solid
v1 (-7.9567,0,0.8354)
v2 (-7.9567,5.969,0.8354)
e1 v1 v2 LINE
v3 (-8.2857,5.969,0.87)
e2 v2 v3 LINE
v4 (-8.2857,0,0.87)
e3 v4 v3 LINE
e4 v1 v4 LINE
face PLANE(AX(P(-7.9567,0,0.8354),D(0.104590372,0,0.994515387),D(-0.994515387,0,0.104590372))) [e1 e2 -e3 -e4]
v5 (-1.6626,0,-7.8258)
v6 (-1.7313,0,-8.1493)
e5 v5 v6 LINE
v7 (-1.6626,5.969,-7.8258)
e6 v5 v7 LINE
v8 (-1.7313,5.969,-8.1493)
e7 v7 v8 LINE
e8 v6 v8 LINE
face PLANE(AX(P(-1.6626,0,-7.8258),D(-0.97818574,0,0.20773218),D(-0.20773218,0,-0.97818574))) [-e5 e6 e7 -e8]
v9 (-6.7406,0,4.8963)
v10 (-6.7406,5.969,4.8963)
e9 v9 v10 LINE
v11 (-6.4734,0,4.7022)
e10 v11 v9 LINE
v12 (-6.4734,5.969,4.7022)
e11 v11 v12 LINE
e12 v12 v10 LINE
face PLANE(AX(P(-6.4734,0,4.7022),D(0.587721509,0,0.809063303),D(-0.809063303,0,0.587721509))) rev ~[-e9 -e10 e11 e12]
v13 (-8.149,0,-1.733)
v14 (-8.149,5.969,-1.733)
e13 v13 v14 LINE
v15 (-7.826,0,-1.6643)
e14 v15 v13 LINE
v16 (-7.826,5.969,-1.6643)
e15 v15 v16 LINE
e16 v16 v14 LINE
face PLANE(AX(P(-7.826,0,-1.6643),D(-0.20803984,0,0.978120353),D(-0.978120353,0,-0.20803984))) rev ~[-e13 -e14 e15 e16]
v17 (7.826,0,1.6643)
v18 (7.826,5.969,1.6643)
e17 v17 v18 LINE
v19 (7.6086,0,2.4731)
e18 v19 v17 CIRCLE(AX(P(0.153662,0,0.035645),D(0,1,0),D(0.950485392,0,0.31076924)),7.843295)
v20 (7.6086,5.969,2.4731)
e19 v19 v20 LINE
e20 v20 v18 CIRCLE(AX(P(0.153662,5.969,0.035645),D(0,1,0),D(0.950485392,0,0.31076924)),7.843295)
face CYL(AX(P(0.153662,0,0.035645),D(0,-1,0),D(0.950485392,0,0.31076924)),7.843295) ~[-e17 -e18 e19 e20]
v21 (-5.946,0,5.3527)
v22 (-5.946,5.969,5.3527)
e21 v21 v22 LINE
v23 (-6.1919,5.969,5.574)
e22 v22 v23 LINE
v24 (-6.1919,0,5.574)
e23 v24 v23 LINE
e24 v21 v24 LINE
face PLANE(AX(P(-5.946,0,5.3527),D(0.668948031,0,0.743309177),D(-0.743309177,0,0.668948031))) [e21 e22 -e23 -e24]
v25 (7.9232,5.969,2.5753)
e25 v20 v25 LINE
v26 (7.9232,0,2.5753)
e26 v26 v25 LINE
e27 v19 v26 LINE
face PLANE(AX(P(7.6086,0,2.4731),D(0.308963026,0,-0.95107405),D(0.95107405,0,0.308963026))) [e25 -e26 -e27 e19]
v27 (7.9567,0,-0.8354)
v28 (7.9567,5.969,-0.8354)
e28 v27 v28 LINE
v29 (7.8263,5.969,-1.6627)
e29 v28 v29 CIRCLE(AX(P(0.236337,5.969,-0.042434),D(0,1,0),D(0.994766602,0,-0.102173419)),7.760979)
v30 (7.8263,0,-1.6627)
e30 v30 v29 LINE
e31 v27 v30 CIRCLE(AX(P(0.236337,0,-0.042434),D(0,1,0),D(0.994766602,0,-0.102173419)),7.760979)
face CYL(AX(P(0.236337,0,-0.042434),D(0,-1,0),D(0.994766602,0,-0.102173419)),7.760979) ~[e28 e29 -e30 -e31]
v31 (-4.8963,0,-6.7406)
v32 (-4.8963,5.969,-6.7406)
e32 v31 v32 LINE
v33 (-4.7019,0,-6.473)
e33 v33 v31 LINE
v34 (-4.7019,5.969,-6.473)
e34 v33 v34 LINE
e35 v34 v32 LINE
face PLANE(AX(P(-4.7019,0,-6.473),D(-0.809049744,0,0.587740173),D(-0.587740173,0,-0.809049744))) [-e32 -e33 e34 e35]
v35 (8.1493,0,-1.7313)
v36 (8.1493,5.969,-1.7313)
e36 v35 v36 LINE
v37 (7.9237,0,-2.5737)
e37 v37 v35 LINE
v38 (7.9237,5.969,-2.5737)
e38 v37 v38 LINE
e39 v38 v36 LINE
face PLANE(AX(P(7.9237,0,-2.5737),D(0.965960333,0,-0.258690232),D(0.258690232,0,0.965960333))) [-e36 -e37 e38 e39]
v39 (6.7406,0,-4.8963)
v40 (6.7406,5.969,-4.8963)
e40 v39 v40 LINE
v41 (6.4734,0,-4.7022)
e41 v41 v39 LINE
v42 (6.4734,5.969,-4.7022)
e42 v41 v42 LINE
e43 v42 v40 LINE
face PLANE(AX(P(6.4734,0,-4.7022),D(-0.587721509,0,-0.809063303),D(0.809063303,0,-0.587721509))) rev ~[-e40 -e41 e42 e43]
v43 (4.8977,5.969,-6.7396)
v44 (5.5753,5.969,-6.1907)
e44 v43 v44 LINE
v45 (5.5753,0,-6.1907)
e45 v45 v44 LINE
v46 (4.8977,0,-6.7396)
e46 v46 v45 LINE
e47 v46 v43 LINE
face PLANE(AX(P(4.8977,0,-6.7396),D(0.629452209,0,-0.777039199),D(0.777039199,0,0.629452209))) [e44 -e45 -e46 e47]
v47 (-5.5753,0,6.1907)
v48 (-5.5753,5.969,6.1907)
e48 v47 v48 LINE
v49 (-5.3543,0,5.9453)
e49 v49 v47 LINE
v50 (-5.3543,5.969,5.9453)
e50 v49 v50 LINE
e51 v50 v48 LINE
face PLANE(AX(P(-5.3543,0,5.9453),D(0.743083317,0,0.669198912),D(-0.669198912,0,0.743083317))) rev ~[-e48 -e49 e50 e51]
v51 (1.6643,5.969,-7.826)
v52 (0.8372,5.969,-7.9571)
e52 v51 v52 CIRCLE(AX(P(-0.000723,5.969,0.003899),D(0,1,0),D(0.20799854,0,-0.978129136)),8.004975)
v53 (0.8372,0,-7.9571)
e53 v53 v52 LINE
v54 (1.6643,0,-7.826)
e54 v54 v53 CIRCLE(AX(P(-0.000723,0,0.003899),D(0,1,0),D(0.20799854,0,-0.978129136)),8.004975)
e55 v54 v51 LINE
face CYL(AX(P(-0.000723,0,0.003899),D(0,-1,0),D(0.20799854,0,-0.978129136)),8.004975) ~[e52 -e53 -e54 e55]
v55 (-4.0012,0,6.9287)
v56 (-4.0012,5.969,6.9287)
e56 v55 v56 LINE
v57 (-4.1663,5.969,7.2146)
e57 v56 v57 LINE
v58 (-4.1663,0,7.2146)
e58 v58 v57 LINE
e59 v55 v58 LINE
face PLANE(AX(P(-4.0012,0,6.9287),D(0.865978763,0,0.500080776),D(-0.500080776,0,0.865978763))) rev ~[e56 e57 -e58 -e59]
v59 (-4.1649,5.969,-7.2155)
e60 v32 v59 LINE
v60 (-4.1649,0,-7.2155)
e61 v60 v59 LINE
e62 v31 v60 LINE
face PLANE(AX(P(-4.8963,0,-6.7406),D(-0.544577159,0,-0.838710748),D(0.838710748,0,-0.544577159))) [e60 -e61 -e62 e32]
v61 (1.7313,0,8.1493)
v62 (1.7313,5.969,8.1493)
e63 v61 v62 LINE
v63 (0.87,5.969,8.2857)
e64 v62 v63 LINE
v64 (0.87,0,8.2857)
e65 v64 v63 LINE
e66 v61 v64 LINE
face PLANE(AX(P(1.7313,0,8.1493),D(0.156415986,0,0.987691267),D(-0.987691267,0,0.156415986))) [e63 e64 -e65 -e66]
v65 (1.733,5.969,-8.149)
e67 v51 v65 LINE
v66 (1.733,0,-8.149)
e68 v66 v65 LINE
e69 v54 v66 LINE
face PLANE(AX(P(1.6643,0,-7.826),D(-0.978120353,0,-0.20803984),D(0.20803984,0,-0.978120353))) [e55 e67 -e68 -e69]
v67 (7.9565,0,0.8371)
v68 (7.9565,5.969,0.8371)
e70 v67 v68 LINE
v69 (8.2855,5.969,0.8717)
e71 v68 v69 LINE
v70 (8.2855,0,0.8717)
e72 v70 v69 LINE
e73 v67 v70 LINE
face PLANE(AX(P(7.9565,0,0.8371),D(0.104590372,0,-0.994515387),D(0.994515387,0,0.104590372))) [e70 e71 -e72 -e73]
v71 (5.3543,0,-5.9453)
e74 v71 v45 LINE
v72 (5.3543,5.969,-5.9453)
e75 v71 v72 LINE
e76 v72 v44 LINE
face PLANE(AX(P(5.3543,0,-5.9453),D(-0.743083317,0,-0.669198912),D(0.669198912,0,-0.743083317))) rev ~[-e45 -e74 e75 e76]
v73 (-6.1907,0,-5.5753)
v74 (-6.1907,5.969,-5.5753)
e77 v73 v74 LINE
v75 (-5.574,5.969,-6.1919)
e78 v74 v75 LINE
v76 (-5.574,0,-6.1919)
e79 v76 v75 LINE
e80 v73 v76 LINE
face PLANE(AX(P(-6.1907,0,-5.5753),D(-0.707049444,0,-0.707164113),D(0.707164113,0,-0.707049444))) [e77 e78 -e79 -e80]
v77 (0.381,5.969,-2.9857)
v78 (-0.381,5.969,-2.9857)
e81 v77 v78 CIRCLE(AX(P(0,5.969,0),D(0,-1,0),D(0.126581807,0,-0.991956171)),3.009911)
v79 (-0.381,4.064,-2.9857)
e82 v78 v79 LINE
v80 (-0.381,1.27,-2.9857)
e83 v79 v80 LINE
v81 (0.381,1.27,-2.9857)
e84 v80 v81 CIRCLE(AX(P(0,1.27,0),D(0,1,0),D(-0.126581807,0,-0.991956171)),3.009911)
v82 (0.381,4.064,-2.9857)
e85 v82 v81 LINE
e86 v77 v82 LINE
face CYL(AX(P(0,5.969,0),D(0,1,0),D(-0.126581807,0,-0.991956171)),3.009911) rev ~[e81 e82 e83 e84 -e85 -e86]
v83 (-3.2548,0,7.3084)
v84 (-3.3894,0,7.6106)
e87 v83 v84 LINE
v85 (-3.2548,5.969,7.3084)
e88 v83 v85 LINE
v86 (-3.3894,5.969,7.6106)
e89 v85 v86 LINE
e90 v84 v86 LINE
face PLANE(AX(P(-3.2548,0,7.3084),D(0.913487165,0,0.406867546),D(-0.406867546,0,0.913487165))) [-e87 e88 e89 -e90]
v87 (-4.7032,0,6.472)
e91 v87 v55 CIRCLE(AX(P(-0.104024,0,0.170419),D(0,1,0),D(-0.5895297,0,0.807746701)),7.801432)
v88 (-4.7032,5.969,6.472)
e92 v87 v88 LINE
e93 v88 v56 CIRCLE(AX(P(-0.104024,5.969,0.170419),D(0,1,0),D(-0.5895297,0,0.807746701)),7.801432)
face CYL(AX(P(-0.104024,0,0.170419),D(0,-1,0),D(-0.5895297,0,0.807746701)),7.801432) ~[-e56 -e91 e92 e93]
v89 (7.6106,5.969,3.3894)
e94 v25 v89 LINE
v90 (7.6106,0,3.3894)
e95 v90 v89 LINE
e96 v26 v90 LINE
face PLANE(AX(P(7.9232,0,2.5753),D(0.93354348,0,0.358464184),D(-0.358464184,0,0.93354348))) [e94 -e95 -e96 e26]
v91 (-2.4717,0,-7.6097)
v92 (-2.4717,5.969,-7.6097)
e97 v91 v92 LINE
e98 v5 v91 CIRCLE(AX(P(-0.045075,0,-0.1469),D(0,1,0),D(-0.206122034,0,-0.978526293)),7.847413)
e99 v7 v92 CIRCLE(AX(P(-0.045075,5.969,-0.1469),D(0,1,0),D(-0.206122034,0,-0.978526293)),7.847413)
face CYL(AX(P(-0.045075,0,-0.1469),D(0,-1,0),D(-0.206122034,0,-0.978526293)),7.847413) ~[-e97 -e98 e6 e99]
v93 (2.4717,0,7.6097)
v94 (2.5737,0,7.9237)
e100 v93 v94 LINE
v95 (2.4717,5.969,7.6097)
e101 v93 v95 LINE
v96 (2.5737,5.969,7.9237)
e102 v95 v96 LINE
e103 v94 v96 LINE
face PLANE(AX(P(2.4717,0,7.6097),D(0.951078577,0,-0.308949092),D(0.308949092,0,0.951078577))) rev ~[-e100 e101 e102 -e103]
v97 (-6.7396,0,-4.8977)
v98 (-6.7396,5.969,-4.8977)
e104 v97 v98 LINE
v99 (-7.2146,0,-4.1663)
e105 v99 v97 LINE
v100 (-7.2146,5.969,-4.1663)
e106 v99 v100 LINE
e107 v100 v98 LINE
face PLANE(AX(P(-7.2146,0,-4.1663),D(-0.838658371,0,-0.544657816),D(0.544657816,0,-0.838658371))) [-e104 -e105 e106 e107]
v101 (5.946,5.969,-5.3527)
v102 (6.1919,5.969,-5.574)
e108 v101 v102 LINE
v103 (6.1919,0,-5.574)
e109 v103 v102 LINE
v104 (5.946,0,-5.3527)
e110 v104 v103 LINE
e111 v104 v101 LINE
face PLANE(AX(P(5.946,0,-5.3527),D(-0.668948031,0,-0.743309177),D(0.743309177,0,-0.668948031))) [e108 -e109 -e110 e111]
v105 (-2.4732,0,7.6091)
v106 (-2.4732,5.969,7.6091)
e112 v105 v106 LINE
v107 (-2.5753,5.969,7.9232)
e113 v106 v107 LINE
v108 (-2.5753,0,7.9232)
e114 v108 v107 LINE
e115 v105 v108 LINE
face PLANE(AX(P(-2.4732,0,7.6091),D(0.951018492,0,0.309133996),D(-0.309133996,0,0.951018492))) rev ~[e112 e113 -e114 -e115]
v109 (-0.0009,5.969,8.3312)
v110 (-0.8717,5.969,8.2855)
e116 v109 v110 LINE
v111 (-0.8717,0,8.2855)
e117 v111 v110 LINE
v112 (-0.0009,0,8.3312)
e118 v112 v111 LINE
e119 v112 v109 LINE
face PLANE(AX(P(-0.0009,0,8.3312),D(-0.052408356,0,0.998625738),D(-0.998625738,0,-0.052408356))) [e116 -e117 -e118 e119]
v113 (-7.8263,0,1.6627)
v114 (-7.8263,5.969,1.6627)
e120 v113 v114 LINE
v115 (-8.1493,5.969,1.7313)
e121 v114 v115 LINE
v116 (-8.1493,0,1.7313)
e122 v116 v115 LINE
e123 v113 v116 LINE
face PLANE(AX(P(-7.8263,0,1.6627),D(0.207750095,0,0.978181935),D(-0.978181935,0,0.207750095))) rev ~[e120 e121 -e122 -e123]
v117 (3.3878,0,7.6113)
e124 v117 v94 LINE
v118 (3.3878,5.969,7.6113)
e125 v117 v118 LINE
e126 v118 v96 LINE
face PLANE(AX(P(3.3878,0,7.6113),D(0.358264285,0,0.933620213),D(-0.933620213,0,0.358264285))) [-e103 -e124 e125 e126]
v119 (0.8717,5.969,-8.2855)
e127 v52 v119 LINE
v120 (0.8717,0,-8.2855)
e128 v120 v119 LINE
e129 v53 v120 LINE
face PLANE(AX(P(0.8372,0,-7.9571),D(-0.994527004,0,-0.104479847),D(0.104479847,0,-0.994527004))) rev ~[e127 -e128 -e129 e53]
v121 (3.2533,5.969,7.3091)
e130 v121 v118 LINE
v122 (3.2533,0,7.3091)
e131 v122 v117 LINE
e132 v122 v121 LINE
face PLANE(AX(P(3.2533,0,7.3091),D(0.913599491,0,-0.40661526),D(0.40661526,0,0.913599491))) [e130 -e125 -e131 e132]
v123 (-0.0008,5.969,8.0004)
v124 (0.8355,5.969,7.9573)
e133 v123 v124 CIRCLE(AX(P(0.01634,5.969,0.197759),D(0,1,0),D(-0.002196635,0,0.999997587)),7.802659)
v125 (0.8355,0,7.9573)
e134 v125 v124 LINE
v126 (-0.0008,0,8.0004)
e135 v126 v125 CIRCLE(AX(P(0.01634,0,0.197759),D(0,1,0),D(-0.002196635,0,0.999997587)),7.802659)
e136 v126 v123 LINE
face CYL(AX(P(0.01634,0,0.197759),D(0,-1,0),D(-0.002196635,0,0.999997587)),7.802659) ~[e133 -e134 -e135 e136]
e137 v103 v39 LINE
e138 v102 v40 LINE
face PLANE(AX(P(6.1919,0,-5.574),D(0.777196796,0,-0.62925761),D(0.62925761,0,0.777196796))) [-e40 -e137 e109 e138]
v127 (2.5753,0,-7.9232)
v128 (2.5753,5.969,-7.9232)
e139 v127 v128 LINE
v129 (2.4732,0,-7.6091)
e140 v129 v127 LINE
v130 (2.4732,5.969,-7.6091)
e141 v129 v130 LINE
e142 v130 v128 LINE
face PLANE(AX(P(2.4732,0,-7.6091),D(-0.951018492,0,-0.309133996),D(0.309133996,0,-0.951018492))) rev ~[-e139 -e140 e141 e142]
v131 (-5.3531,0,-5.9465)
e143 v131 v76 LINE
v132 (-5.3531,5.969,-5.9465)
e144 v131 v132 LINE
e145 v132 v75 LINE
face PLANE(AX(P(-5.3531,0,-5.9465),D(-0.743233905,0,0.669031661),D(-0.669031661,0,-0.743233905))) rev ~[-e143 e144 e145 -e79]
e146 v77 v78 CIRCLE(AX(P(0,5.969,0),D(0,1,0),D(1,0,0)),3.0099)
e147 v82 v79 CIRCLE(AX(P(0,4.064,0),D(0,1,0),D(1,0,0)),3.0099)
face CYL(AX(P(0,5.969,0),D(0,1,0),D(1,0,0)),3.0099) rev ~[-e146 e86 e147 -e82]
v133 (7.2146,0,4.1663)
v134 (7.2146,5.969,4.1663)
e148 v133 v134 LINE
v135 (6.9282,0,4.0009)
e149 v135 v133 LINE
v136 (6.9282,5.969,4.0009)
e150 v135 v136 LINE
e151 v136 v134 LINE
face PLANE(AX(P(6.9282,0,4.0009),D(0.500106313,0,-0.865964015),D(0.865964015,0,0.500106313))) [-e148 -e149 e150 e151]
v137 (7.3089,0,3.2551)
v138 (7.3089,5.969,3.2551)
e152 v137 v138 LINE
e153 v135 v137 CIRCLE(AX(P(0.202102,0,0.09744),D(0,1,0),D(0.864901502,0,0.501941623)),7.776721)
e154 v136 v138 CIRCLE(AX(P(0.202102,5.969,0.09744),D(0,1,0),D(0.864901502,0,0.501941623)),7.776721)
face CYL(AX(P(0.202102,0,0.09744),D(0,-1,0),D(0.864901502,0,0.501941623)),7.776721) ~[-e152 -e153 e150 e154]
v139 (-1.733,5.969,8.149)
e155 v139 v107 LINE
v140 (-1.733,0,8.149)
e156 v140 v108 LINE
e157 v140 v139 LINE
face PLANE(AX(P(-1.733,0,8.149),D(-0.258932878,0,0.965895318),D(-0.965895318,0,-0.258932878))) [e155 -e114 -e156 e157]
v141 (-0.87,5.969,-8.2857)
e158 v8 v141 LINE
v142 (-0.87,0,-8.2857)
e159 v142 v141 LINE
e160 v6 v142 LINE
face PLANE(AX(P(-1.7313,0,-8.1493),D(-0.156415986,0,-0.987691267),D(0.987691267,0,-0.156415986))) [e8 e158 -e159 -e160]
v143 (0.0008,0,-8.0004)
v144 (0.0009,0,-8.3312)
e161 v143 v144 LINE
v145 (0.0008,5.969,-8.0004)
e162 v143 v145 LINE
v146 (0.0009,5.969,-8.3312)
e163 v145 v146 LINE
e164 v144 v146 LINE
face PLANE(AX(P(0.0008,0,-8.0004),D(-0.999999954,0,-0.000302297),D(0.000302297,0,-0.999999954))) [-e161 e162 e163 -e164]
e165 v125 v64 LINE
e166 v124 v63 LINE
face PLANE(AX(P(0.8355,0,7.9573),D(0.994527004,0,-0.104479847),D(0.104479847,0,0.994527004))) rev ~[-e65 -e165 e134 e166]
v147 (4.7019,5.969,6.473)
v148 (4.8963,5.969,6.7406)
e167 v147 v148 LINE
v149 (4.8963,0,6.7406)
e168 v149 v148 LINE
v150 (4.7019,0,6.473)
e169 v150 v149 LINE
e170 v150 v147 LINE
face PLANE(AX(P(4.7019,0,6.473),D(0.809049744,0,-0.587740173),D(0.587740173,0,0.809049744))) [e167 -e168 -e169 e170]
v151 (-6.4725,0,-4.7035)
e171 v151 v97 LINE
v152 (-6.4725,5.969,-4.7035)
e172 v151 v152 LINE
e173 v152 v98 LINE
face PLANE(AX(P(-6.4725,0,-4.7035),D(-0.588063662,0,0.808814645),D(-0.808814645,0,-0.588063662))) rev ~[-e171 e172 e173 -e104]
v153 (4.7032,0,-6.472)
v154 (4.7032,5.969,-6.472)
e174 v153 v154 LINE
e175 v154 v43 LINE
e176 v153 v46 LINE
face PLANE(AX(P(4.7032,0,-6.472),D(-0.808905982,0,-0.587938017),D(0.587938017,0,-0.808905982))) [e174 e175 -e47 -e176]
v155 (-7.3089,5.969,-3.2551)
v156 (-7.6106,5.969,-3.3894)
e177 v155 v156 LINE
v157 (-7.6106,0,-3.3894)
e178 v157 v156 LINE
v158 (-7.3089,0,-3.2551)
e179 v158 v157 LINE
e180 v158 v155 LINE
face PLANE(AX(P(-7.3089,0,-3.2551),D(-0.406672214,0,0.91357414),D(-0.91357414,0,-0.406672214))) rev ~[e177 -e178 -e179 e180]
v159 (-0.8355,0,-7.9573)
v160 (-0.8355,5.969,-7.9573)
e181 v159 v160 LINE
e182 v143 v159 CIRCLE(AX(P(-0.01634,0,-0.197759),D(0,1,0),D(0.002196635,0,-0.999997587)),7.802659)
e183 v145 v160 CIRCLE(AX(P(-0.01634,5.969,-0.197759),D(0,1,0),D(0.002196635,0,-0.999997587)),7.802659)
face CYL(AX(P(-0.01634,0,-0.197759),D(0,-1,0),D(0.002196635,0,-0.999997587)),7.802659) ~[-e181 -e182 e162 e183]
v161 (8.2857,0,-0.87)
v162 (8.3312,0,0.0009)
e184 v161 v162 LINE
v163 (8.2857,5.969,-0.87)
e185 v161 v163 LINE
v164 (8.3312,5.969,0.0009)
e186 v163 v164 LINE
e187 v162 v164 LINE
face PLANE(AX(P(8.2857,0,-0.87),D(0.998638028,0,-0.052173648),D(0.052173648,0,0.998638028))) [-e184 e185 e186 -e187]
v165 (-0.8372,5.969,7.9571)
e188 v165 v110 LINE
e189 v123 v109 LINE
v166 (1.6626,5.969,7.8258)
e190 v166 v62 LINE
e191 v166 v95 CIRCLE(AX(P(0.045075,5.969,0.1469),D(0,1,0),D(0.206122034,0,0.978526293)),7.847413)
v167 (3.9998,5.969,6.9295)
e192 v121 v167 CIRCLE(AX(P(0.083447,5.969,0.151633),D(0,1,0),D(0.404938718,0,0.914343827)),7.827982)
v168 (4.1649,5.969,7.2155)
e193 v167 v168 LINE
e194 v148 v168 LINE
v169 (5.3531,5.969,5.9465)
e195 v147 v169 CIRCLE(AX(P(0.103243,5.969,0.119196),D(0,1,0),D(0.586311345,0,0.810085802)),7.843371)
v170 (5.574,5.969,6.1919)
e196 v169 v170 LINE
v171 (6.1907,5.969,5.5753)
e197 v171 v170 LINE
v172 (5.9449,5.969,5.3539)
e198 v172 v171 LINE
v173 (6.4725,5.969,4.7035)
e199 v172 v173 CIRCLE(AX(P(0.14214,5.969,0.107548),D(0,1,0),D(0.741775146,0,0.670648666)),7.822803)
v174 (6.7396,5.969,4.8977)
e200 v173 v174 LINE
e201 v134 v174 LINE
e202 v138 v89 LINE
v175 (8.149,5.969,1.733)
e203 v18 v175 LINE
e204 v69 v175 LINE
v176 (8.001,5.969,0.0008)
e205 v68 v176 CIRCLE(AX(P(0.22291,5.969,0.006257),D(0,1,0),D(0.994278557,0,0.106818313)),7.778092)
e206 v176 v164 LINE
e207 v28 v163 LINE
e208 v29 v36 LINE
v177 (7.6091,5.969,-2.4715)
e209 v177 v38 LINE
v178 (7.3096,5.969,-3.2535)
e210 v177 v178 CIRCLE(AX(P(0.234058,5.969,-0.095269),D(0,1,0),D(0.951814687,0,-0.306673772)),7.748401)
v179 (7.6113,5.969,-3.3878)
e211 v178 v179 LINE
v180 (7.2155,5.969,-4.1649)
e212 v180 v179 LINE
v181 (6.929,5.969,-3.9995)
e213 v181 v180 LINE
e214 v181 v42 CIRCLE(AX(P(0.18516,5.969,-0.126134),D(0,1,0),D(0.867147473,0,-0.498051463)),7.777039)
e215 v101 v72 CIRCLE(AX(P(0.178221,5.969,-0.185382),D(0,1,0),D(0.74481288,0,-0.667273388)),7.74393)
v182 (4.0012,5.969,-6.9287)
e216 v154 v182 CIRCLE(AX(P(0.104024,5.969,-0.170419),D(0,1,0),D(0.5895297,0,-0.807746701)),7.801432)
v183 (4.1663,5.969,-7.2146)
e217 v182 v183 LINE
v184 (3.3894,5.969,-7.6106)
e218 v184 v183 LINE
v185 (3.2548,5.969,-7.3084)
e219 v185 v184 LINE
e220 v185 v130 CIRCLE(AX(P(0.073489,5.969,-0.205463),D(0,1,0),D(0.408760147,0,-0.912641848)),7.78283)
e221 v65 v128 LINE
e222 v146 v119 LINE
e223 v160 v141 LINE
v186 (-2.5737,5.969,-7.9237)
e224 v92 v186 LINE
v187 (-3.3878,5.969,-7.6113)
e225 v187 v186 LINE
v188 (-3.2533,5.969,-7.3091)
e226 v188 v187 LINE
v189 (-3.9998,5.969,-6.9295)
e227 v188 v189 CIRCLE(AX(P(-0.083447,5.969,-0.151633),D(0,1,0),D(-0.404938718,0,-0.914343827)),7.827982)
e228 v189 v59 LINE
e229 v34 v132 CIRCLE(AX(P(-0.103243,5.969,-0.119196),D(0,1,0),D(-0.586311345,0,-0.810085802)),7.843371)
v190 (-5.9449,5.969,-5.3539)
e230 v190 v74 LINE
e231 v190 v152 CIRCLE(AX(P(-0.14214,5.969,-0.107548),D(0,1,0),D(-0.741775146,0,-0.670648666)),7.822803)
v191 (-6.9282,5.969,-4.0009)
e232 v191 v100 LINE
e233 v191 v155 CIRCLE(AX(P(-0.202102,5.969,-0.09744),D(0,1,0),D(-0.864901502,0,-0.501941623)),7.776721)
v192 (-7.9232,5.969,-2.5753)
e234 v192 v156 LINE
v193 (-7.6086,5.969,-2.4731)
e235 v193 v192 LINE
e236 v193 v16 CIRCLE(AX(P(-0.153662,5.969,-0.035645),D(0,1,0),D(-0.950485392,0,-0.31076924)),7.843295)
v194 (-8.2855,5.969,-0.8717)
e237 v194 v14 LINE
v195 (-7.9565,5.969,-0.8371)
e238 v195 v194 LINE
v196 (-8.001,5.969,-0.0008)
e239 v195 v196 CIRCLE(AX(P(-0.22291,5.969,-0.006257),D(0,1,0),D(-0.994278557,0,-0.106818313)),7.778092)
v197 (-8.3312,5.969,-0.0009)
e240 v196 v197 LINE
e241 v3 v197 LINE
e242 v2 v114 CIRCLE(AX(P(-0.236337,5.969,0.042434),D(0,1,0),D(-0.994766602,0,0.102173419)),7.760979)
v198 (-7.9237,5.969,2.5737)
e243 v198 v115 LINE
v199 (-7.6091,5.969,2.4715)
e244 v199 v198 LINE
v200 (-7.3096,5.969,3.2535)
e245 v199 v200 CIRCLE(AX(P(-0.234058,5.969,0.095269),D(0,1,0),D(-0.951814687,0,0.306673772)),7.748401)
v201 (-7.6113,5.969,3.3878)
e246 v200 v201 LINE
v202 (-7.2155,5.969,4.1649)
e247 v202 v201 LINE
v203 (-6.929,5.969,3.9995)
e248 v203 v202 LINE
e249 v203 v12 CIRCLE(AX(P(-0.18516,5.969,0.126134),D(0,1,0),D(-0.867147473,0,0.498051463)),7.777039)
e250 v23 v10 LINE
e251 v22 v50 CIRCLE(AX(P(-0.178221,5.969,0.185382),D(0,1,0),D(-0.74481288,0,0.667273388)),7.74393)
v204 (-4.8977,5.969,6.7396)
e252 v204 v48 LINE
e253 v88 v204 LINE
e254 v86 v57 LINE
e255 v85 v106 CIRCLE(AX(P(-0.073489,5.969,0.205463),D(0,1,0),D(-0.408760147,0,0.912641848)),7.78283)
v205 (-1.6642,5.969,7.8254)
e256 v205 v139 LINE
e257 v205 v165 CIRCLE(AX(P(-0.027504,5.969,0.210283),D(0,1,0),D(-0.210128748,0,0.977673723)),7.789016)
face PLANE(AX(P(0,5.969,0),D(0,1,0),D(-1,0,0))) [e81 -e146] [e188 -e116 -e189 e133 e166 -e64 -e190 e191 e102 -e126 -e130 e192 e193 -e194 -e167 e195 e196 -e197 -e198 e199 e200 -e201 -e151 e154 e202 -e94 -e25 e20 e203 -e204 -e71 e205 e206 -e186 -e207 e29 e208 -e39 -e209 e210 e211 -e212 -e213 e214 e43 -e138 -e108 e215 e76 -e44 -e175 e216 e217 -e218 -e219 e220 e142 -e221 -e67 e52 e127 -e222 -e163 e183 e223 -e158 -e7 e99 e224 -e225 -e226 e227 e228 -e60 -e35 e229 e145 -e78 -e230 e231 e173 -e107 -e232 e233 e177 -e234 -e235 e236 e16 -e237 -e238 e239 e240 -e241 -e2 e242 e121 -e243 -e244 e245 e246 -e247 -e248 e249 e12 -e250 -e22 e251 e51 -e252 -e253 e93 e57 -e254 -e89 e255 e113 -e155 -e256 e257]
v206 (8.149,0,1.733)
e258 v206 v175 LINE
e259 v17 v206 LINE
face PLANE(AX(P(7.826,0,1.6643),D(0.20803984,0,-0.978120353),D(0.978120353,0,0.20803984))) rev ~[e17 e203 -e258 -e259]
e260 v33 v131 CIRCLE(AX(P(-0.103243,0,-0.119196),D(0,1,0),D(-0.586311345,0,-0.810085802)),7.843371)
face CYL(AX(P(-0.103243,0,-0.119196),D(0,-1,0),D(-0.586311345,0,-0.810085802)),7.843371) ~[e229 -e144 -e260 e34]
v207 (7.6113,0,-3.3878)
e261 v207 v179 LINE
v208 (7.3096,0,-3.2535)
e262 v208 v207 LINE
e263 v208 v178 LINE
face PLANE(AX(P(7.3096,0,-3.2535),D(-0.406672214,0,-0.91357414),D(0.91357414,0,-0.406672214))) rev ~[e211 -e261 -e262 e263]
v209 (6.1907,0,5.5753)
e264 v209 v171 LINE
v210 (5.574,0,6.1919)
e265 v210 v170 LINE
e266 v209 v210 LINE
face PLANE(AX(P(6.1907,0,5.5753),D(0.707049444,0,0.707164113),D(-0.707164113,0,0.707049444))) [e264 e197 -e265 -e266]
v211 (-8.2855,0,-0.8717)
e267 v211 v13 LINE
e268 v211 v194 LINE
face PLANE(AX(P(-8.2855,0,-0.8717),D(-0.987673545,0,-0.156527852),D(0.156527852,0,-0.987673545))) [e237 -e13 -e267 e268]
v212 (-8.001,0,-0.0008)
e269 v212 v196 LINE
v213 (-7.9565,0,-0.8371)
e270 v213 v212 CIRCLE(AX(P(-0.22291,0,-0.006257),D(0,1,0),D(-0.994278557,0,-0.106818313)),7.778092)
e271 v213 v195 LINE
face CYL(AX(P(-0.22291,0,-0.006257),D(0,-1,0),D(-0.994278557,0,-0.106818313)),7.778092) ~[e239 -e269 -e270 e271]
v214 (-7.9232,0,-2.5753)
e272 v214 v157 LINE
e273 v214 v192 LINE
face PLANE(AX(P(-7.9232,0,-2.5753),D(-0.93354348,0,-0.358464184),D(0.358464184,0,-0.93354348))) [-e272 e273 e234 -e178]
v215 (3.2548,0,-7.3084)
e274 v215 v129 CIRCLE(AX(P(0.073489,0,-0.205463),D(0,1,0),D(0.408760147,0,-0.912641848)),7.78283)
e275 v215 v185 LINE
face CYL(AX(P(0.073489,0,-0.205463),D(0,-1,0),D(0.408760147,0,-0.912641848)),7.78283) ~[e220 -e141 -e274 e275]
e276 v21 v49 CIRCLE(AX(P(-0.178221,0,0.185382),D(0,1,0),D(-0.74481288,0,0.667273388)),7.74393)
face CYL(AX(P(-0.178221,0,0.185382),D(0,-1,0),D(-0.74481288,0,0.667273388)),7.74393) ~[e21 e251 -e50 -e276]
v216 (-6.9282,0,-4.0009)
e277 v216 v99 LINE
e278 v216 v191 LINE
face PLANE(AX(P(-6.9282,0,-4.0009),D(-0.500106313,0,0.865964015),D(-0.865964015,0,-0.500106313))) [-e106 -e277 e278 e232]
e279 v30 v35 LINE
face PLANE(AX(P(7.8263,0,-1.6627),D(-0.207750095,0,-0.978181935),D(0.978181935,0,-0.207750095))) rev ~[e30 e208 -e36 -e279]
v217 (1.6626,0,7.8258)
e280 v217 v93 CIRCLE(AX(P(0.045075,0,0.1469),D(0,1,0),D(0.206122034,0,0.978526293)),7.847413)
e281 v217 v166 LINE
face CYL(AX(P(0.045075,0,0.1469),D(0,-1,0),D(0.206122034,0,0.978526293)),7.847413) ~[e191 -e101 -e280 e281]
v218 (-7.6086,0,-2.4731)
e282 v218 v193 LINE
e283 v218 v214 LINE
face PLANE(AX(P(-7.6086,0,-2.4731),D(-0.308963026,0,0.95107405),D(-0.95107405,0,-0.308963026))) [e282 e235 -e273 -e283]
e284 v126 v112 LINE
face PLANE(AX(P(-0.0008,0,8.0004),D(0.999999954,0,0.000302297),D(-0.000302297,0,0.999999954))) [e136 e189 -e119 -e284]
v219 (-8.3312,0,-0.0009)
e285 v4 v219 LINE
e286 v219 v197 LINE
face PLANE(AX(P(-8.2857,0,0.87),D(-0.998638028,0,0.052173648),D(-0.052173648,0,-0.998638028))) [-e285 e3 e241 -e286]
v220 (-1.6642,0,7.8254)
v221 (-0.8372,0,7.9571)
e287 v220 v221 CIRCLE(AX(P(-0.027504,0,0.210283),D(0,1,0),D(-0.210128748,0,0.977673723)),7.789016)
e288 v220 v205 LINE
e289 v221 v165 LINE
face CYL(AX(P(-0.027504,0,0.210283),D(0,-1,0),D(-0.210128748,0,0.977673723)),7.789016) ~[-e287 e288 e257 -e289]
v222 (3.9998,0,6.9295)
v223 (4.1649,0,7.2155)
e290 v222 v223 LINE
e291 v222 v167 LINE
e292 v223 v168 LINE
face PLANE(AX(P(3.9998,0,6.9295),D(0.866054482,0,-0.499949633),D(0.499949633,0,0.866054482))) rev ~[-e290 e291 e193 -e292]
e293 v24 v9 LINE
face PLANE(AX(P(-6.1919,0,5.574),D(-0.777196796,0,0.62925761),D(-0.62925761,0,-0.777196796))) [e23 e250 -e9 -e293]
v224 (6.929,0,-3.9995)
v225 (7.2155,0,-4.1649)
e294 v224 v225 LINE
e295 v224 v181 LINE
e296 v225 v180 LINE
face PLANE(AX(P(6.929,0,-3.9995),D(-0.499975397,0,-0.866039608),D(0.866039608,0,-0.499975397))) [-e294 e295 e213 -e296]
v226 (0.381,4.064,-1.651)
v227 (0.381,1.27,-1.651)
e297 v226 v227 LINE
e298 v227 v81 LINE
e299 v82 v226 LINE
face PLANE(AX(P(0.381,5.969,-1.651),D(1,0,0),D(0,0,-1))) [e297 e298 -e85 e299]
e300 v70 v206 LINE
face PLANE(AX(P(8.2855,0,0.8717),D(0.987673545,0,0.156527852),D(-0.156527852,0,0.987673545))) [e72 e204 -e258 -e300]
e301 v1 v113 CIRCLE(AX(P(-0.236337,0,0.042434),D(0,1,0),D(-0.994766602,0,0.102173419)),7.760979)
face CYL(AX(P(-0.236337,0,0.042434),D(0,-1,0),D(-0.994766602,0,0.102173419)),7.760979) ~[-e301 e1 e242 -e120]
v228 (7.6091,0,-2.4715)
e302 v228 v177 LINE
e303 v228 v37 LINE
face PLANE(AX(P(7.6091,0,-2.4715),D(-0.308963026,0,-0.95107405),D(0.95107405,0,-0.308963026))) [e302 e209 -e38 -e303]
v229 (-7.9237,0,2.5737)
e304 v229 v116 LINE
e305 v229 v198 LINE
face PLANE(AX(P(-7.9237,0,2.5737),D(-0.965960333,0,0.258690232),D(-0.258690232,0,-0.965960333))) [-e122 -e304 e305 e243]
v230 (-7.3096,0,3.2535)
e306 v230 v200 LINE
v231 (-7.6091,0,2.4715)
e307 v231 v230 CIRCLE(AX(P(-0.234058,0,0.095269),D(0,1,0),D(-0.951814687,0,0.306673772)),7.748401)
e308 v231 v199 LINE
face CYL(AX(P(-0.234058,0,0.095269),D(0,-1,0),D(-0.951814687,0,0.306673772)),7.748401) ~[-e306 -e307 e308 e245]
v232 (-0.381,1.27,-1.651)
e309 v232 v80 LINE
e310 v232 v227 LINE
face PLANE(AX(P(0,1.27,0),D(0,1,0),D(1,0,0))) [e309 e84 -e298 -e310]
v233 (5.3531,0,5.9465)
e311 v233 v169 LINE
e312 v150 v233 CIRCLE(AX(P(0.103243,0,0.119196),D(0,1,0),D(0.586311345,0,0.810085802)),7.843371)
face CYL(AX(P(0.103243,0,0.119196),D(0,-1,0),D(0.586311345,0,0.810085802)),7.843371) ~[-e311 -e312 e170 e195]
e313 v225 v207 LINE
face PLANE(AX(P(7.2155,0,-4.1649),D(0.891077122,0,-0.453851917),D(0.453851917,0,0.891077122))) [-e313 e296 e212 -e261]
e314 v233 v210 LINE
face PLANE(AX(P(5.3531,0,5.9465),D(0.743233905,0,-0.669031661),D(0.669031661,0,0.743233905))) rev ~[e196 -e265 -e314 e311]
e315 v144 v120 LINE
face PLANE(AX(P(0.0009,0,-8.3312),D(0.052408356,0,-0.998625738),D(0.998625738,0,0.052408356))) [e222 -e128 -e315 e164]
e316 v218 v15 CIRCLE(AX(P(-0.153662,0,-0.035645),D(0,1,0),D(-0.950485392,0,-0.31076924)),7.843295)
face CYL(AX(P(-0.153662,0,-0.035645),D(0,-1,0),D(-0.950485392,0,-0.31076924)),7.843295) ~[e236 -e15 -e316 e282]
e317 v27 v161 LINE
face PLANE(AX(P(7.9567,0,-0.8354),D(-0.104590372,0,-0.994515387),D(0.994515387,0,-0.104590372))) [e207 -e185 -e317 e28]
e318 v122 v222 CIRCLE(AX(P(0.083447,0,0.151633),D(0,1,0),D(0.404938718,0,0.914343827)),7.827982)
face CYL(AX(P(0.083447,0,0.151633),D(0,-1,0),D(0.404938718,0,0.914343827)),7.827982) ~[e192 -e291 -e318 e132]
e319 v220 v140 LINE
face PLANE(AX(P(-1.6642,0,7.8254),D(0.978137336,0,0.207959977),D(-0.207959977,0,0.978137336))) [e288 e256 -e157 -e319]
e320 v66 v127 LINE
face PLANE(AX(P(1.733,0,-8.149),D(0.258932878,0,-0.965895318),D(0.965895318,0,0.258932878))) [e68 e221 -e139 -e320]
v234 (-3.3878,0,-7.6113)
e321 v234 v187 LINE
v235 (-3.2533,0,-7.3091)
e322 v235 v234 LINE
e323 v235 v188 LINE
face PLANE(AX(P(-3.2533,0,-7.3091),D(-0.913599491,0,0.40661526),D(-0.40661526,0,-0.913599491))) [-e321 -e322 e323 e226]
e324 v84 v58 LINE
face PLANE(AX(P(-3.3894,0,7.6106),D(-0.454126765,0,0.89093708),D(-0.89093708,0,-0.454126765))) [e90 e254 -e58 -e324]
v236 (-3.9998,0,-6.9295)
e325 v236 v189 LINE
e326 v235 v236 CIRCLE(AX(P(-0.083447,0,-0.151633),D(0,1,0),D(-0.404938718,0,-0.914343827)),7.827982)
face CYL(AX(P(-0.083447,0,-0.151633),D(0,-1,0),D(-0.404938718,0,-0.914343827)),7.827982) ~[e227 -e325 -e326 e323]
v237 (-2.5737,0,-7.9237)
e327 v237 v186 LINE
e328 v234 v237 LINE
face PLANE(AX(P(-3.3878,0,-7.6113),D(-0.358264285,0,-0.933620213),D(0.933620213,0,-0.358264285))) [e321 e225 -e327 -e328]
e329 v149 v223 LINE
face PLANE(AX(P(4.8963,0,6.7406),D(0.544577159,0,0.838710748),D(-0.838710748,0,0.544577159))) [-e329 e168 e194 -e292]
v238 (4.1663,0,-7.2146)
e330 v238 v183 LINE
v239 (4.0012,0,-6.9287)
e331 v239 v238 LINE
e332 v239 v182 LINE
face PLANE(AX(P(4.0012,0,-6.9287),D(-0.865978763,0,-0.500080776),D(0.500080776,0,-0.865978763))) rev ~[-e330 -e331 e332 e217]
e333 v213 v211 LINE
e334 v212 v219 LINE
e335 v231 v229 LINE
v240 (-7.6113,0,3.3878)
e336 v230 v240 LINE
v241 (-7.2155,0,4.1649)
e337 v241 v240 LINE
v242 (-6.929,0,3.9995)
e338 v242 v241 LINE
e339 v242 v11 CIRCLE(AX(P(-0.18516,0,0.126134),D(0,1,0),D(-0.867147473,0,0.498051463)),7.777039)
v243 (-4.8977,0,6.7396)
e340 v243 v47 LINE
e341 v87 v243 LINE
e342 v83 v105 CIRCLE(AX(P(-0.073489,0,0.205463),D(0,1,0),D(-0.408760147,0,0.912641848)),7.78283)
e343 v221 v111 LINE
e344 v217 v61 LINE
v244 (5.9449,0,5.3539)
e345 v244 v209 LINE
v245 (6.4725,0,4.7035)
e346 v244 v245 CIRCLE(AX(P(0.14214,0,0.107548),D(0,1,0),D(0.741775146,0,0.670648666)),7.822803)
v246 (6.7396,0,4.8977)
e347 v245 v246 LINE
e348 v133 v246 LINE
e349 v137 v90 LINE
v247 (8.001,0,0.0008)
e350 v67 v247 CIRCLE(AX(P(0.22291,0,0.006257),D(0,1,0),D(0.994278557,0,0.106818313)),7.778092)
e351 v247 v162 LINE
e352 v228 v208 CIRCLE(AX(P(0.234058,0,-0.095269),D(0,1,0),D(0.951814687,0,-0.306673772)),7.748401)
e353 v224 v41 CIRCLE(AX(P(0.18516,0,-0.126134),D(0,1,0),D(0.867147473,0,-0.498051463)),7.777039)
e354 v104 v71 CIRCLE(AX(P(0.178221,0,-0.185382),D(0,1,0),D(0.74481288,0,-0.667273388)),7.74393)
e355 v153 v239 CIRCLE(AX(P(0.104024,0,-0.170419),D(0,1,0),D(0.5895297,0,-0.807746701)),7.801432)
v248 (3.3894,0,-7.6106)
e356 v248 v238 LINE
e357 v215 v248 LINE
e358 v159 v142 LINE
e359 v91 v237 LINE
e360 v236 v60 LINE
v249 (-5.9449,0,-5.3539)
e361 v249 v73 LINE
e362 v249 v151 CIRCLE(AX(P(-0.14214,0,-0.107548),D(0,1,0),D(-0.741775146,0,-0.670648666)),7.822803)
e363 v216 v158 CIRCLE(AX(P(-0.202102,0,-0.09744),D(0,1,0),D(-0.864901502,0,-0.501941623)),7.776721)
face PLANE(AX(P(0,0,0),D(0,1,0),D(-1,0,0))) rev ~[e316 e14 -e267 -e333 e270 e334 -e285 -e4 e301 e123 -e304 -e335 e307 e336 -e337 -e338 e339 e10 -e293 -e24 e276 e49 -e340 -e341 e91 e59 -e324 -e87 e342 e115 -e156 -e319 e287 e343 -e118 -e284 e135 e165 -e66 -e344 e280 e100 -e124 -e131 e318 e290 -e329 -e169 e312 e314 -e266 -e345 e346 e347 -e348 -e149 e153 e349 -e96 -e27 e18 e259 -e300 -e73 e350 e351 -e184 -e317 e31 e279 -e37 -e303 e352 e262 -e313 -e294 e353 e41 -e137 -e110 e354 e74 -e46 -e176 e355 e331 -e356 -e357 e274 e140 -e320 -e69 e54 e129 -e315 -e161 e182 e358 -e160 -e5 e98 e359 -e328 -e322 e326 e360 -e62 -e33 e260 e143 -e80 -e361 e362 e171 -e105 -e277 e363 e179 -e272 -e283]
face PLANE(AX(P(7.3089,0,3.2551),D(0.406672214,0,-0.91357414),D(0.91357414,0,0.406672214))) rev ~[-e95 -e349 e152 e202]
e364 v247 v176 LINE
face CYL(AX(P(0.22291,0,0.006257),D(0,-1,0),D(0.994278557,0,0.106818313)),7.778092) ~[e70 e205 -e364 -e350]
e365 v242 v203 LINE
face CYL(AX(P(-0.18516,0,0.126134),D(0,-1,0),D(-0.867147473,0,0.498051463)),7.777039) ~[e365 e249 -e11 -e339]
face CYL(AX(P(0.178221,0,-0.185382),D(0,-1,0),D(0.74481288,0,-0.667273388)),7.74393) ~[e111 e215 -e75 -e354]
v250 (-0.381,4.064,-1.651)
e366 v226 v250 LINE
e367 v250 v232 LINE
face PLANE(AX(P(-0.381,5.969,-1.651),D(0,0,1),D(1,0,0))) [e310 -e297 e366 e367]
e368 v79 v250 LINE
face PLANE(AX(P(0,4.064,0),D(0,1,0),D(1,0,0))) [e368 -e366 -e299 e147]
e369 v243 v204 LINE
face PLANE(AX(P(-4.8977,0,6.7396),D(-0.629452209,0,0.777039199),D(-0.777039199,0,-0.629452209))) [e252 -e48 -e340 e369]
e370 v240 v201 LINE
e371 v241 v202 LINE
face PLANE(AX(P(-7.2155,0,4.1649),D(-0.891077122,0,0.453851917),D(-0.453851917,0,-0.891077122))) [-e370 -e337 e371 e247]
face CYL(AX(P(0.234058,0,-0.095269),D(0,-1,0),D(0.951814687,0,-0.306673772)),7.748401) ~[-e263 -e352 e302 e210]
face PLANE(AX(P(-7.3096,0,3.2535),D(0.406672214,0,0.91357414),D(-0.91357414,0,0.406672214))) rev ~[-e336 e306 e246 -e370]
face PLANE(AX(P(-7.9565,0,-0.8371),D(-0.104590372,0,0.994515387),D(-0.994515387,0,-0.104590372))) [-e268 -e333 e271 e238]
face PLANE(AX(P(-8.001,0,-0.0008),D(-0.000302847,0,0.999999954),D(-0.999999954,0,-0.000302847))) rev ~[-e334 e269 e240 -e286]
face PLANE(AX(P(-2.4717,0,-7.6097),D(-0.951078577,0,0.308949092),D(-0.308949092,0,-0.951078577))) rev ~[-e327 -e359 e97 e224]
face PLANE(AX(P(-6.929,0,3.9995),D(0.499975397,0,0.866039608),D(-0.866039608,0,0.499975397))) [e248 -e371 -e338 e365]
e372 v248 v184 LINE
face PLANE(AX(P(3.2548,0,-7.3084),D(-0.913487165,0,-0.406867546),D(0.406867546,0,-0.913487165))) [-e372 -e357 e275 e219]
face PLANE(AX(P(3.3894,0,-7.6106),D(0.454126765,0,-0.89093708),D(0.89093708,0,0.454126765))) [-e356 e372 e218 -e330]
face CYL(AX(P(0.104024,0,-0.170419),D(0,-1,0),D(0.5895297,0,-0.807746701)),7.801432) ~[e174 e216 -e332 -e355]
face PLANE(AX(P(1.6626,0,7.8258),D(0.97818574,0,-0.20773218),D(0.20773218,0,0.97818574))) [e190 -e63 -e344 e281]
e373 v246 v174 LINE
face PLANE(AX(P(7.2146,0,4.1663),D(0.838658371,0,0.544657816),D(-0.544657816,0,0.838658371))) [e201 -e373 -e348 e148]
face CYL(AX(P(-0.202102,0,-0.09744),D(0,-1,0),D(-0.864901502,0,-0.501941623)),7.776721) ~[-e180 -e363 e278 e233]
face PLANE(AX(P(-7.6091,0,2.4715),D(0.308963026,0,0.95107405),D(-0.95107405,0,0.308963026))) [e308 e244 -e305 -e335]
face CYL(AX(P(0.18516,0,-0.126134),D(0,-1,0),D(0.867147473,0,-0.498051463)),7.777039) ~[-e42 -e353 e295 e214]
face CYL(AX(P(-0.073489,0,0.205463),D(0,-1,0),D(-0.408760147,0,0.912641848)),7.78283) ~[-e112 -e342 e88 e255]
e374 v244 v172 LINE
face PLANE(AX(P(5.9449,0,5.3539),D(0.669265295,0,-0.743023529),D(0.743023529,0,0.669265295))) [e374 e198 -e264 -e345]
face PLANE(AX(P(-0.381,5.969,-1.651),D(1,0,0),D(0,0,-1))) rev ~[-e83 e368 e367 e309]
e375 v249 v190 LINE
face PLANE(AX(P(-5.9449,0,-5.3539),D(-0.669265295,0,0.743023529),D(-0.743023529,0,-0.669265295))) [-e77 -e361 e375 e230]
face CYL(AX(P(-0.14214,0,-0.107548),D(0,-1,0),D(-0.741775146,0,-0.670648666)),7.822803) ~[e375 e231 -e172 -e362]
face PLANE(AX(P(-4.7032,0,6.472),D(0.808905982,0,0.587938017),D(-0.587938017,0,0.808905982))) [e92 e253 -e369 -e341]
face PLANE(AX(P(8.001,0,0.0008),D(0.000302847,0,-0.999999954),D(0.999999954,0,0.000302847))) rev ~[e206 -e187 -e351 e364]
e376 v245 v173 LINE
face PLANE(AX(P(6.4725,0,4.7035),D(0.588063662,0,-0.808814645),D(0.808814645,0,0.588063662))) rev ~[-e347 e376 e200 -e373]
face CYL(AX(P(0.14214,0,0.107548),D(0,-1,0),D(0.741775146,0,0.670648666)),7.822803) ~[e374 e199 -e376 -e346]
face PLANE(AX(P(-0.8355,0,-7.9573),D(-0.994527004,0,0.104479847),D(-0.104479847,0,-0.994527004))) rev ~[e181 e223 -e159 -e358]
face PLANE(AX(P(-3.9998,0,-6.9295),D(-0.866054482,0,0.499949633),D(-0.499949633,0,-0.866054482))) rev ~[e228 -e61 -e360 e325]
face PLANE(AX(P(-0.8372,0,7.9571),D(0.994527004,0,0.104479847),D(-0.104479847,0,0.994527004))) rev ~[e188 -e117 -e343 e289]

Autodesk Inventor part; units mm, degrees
ref_plane "YZ Plane" through (0, 0, 0) normal (1, 0, 0) x (0, 1, 0)
ref_plane "XZ Plane" through (0, 0, 0) normal (0, 1, 0) x (-1, 0, 0)
ref_plane "XY Plane" through (0, 0, 0) normal (0, 0, 1) x (1, 0, 0)
sketch "Sketch1" plane through (0, 0, 0) normal (0, 1, 0) x (-1, 0, 0)
  arc A0 (-1.6643, -7.826) -> (-0.8372, -7.9571) centre (0, 0) ccw
  line L0 (-0.0008, -8.0004) -> (-0.0009, -8.3312)
  line L1 (-0.8372, -7.9571) -> (-0.8717, -8.2855)
  circle A1 centre (0, 0) radius 8.3312 construction
  line L2 (-0.0009, -8.3312) -> (-0.8717, -8.2855)
  line L3 (-1.6643, -7.826) -> (-1.733, -8.149) construction
  line L4 (1.6626, -7.8258) -> (1.7313, -8.1493)
  line L5 (1.7313, -8.1493) -> (0.87, -8.2857)
  line L6 (0.8355, -7.9573) -> (0.87, -8.2857)
  arc A2 (-0.0008, -8.001) -> (0.8355, -7.9573) centre (0, 0) ccw
  line L7 (3.2533, -7.3091) -> (3.3878, -7.6113)
  line L8 (3.3878, -7.6113) -> (2.5737, -7.9237)
  line L9 (2.4717, -7.6097) -> (2.5737, -7.9237)
  arc A3 (1.6627, -7.8263) -> (2.4717, -7.6097) centre (0, 0) ccw
  line L10 (4.7019, -6.473) -> (4.8963, -6.7406)
  line L11 (4.8963, -6.7406) -> (4.1649, -7.2155)
  line L12 (3.9998, -6.9295) -> (4.1649, -7.2155)
  arc A4 (3.2535, -7.3096) -> (3.9998, -6.9295) centre (0, 0) ccw
  line L13 (5.9449, -5.3539) -> (6.1907, -5.5753)
  line L14 (6.1907, -5.5753) -> (5.574, -6.1919)
  line L15 (5.3531, -5.9465) -> (5.574, -6.1919)
  arc A5 (4.7022, -6.4734) -> (5.3531, -5.9465) centre (0, 0) ccw
  line L16 (6.9282, -4.0009) -> (7.2146, -4.1663)
  line L17 (7.2146, -4.1663) -> (6.7396, -4.8977)
  line L18 (6.4725, -4.7035) -> (6.7396, -4.8977)
  arc A6 (5.9453, -5.3543) -> (6.4725, -4.7035) centre (0, 0) ccw
  line L19 (7.6086, -2.4731) -> (7.9232, -2.5753)
  line L20 (7.9232, -2.5753) -> (7.6106, -3.3894)
  line L21 (7.3089, -3.2551) -> (7.6106, -3.3894)
  arc A7 (6.9287, -4.0012) -> (7.3089, -3.2551) centre (0, 0) ccw
  line L22 (7.9565, -0.8371) -> (8.2855, -0.8717)
  line L23 (8.2855, -0.8717) -> (8.149, -1.733)
  line L24 (7.826, -1.6643) -> (8.149, -1.733)
  arc A8 (7.6091, -2.4732) -> (7.826, -1.6643) centre (0, 0) ccw
  line L25 (7.9567, 0.8354) -> (8.2857, 0.87)
  line L26 (8.2857, 0.87) -> (8.3312, -0.0009)
  line L27 (8.001, -0.0008) -> (8.3312, -0.0009)
  arc A9 (7.9571, -0.8372) -> (8.001, -0.0008) centre (0, 0) ccw
  line L28 (7.6091, 2.4715) -> (7.9237, 2.5737)
  line L29 (7.9237, 2.5737) -> (8.1493, 1.7313)
  line L30 (7.8263, 1.6627) -> (8.1493, 1.7313)
  arc A10 (7.9573, 0.8355) -> (7.8263, 1.6627) centre (0, 0) ccw
  line L31 (6.929, 3.9995) -> (7.2155, 4.1649)
  line L32 (7.2155, 4.1649) -> (7.6113, 3.3878)
  line L33 (7.3096, 3.2535) -> (7.6113, 3.3878)
  arc A11 (7.6097, 2.4717) -> (7.3096, 3.2535) centre (0, 0) ccw
  line L34 (5.946, 5.3527) -> (6.1919, 5.574)
  line L35 (6.1919, 5.574) -> (6.7406, 4.8963)
  line L36 (6.4734, 4.7022) -> (6.7406, 4.8963)
  arc A12 (6.9295, 3.9998) -> (6.4734, 4.7022) centre (0, 0) ccw
  line L37 (4.7032, 6.472) -> (4.8977, 6.7396)
  line L38 (4.8977, 6.7396) -> (5.5753, 6.1907)
  line L39 (5.3543, 5.9453) -> (5.5753, 6.1907)
  arc A13 (5.9465, 5.3531) -> (5.3543, 5.9453) centre (0, 0) ccw
  line L40 (3.2548, 7.3084) -> (3.3894, 7.6106)
  line L41 (3.3894, 7.6106) -> (4.1663, 7.2146)
  line L42 (4.0012, 6.9287) -> (4.1663, 7.2146)
  arc A14 (4.7035, 6.4725) -> (4.0012, 6.9287) centre (0, 0) ccw
  line L43 (1.6642, 7.8254) -> (1.733, 8.149)
  line L44 (1.733, 8.149) -> (2.5753, 7.9232)
  line L45 (2.4732, 7.6091) -> (2.5753, 7.9232)
  arc A15 (3.2551, 7.3089) -> (2.4732, 7.6091) centre (0, 0) ccw
  line L46 (0.0008, 8.0004) -> (0.0009, 8.3312)
  line L47 (0.0009, 8.3312) -> (0.8717, 8.2855)
  line L48 (0.8372, 7.9571) -> (0.8717, 8.2855)
  arc A16 (1.6643, 7.826) -> (0.8372, 7.9571) centre (0, 0) ccw
  line L49 (-1.6626, 7.8258) -> (-1.7313, 8.1493)
  line L50 (-1.7313, 8.1493) -> (-0.87, 8.2857)
  line L51 (-0.8355, 7.9573) -> (-0.87, 8.2857)
  arc A17 (0.0008, 8.001) -> (-0.8355, 7.9573) centre (0, 0) ccw
  line L52 (-3.2533, 7.3091) -> (-3.3878, 7.6113)
  line L53 (-3.3878, 7.6113) -> (-2.5737, 7.9237)
  line L54 (-2.4717, 7.6097) -> (-2.5737, 7.9237)
  arc A18 (-1.6627, 7.8263) -> (-2.4717, 7.6097) centre (0, 0) ccw
  line L55 (-4.7019, 6.473) -> (-4.8963, 6.7406)
  line L56 (-4.8963, 6.7406) -> (-4.1649, 7.2155)
  line L57 (-3.9998, 6.9295) -> (-4.1649, 7.2155)
  arc A19 (-3.2535, 7.3096) -> (-3.9998, 6.9295) centre (0, 0) ccw
  line L58 (-5.9449, 5.3539) -> (-6.1907, 5.5753)
  line L59 (-6.1907, 5.5753) -> (-5.574, 6.1919)
  line L60 (-5.3531, 5.9465) -> (-5.574, 6.1919)
  arc A20 (-4.7022, 6.4734) -> (-5.3531, 5.9465) centre (0, 0) ccw
  line L61 (-6.9282, 4.0009) -> (-7.2146, 4.1663)
  line L62 (-7.2146, 4.1663) -> (-6.7396, 4.8977)
  line L63 (-6.4725, 4.7035) -> (-6.7396, 4.8977)
  arc A21 (-5.9453, 5.3543) -> (-6.4725, 4.7035) centre (0, 0) ccw
  line L64 (-7.6086, 2.4731) -> (-7.9232, 2.5753)
  line L65 (-7.9232, 2.5753) -> (-7.6106, 3.3894)
  line L66 (-7.3089, 3.2551) -> (-7.6106, 3.3894)
  arc A22 (-6.9287, 4.0012) -> (-7.3089, 3.2551) centre (0, 0) ccw
  line L67 (-7.9565, 0.8371) -> (-8.2855, 0.8717)
  line L68 (-8.2855, 0.8717) -> (-8.149, 1.733)
  line L69 (-7.826, 1.6643) -> (-8.149, 1.733)
  arc A23 (-7.6091, 2.4732) -> (-7.826, 1.6643) centre (0, 0) ccw
  line L70 (-7.9567, -0.8354) -> (-8.2857, -0.87)
  line L71 (-8.2857, -0.87) -> (-8.3312, 0.0009)
  line L72 (-8.001, 0.0008) -> (-8.3312, 0.0009)
  arc A24 (-7.9571, 0.8372) -> (-8.001, 0.0008) centre (0, 0) ccw
  line L73 (-7.6091, -2.4715) -> (-7.9237, -2.5737)
  line L74 (-7.9237, -2.5737) -> (-8.1493, -1.7313)
  line L75 (-7.8263, -1.6627) -> (-8.1493, -1.7313)
  arc A25 (-7.9573, -0.8355) -> (-7.8263, -1.6627) centre (0, 0) ccw
  line L76 (-6.929, -3.9995) -> (-7.2155, -4.1649)
  line L77 (-7.2155, -4.1649) -> (-7.6113, -3.3878)
  line L78 (-7.3096, -3.2535) -> (-7.6113, -3.3878)
  arc A26 (-7.6097, -2.4717) -> (-7.3096, -3.2535) centre (0, 0) ccw
  line L79 (-5.946, -5.3527) -> (-6.1919, -5.574)
  line L80 (-6.1919, -5.574) -> (-6.7406, -4.8963)
  line L81 (-6.4734, -4.7022) -> (-6.7406, -4.8963)
  arc A27 (-6.9295, -3.9998) -> (-6.4734, -4.7022) centre (0, 0) ccw
  line L82 (-4.7032, -6.472) -> (-4.8977, -6.7396)
  line L83 (-4.8977, -6.7396) -> (-5.5753, -6.1907)
  line L84 (-5.3543, -5.9453) -> (-5.5753, -6.1907)
  arc A28 (-5.9465, -5.3531) -> (-5.3543, -5.9453) centre (0, 0) ccw
  line L85 (-3.2548, -7.3084) -> (-3.3894, -7.6106)
  line L86 (-3.3894, -7.6106) -> (-4.1663, -7.2146)
  line L87 (-4.0012, -6.9287) -> (-4.1663, -7.2146)
  arc A29 (-4.7035, -6.4725) -> (-4.0012, -6.9287) centre (0, 0) ccw
  line L88 (-1.6642, -7.8254) -> (-1.733, -8.149)
  line L89 (-1.733, -8.149) -> (-2.5753, -7.9232)
  line L90 (-2.4732, -7.6091) -> (-2.5753, -7.9232)
  arc A30 (-3.2551, -7.3089) -> (-2.4732, -7.6091) centre (0, 0) ccw
  point P0 (-0.0008, -8.001)
  point P1 (1.6627, -7.8263)
  point P2 (3.2535, -7.3096)
  point P3 (4.7022, -6.4734)
  point P4 (5.9453, -5.3543)
  point P5 (6.9287, -4.0012)
  point P6 (7.6091, -2.4732)
  point P7 (7.9571, -0.8372)
  point P8 (7.9573, 0.8355)
  point P9 (7.6097, 2.4717)
  point P10 (6.9295, 3.9998)
  point P11 (5.9465, 5.3531)
  point P12 (4.7035, 6.4725)
  point P13 (3.2551, 7.3089)
  point P14 (1.6643, 7.826)
  point P15 (0.0008, 8.001)
  point P16 (-1.6627, 7.8263)
  point P17 (-3.2535, 7.3096)
  point P18 (-4.7022, 6.4734)
  point P19 (-5.9453, 5.3543)
  point P20 (-6.9287, 4.0012)
  point P21 (-7.6091, 2.4732)
  point P22 (-7.9571, 0.8372)
  point P23 (-7.9573, -0.8355)
  point P24 (-7.6097, -2.4717)
  point P25 (-6.9295, -3.9998)
  point P26 (-5.9465, -5.3531)
  point P27 (-4.7035, -6.4725)
  point P28 (-3.2551, -7.3089)
  point P29 (-1.6643, -7.826)
  dimension "d0" = 16.002
  dimension "d1" = 6
  dimension "d2" = 0.3302
  dimension "d3" = 6
  dimension "d6" = 360
extrude "Extrusion1" add sketch "Sketch1" along normal blind 5.969
sketch "Sketch2" plane through (0, 5.969, 0) normal (0, 1, 0) x (1, 0, 0)
  arc A0 (-0.381, 2.9857) -> (0.381, 2.9857) centre (0, 0) ccw
  line L0 (0, 3.0099) -> (0, -3.0099) construction
  line L1 (-0.381, 1.651) -> (0.381, 1.651)
  line L2 (-0.381, 1.651) -> (-0.381, 2.9857)
  line L3 (0.381, 1.651) -> (0.381, 2.9857)
  dimension "d10" = 6.0198
  dimension "d13" = 0.381
  dimension "d14" = 0.381
  dimension "d16" = 1.651
extrude "Extrusion2" cut sketch "Sketch2" against normal blind 4.699
sketch "Sketch3" plane through (0, 5.969, 0) normal (0, 1, 0) x (1, 0, 0)
  circle A0 centre (0, 0) radius 3.0099
  arc A1 (-0.381, 2.9857) -> (0.381, 2.9857) centre (0, 0) ccw projected
extrude "Extrusion3" cut sketch "Sketch3" against normal blind 1.905
properties part number "DialKnob"
